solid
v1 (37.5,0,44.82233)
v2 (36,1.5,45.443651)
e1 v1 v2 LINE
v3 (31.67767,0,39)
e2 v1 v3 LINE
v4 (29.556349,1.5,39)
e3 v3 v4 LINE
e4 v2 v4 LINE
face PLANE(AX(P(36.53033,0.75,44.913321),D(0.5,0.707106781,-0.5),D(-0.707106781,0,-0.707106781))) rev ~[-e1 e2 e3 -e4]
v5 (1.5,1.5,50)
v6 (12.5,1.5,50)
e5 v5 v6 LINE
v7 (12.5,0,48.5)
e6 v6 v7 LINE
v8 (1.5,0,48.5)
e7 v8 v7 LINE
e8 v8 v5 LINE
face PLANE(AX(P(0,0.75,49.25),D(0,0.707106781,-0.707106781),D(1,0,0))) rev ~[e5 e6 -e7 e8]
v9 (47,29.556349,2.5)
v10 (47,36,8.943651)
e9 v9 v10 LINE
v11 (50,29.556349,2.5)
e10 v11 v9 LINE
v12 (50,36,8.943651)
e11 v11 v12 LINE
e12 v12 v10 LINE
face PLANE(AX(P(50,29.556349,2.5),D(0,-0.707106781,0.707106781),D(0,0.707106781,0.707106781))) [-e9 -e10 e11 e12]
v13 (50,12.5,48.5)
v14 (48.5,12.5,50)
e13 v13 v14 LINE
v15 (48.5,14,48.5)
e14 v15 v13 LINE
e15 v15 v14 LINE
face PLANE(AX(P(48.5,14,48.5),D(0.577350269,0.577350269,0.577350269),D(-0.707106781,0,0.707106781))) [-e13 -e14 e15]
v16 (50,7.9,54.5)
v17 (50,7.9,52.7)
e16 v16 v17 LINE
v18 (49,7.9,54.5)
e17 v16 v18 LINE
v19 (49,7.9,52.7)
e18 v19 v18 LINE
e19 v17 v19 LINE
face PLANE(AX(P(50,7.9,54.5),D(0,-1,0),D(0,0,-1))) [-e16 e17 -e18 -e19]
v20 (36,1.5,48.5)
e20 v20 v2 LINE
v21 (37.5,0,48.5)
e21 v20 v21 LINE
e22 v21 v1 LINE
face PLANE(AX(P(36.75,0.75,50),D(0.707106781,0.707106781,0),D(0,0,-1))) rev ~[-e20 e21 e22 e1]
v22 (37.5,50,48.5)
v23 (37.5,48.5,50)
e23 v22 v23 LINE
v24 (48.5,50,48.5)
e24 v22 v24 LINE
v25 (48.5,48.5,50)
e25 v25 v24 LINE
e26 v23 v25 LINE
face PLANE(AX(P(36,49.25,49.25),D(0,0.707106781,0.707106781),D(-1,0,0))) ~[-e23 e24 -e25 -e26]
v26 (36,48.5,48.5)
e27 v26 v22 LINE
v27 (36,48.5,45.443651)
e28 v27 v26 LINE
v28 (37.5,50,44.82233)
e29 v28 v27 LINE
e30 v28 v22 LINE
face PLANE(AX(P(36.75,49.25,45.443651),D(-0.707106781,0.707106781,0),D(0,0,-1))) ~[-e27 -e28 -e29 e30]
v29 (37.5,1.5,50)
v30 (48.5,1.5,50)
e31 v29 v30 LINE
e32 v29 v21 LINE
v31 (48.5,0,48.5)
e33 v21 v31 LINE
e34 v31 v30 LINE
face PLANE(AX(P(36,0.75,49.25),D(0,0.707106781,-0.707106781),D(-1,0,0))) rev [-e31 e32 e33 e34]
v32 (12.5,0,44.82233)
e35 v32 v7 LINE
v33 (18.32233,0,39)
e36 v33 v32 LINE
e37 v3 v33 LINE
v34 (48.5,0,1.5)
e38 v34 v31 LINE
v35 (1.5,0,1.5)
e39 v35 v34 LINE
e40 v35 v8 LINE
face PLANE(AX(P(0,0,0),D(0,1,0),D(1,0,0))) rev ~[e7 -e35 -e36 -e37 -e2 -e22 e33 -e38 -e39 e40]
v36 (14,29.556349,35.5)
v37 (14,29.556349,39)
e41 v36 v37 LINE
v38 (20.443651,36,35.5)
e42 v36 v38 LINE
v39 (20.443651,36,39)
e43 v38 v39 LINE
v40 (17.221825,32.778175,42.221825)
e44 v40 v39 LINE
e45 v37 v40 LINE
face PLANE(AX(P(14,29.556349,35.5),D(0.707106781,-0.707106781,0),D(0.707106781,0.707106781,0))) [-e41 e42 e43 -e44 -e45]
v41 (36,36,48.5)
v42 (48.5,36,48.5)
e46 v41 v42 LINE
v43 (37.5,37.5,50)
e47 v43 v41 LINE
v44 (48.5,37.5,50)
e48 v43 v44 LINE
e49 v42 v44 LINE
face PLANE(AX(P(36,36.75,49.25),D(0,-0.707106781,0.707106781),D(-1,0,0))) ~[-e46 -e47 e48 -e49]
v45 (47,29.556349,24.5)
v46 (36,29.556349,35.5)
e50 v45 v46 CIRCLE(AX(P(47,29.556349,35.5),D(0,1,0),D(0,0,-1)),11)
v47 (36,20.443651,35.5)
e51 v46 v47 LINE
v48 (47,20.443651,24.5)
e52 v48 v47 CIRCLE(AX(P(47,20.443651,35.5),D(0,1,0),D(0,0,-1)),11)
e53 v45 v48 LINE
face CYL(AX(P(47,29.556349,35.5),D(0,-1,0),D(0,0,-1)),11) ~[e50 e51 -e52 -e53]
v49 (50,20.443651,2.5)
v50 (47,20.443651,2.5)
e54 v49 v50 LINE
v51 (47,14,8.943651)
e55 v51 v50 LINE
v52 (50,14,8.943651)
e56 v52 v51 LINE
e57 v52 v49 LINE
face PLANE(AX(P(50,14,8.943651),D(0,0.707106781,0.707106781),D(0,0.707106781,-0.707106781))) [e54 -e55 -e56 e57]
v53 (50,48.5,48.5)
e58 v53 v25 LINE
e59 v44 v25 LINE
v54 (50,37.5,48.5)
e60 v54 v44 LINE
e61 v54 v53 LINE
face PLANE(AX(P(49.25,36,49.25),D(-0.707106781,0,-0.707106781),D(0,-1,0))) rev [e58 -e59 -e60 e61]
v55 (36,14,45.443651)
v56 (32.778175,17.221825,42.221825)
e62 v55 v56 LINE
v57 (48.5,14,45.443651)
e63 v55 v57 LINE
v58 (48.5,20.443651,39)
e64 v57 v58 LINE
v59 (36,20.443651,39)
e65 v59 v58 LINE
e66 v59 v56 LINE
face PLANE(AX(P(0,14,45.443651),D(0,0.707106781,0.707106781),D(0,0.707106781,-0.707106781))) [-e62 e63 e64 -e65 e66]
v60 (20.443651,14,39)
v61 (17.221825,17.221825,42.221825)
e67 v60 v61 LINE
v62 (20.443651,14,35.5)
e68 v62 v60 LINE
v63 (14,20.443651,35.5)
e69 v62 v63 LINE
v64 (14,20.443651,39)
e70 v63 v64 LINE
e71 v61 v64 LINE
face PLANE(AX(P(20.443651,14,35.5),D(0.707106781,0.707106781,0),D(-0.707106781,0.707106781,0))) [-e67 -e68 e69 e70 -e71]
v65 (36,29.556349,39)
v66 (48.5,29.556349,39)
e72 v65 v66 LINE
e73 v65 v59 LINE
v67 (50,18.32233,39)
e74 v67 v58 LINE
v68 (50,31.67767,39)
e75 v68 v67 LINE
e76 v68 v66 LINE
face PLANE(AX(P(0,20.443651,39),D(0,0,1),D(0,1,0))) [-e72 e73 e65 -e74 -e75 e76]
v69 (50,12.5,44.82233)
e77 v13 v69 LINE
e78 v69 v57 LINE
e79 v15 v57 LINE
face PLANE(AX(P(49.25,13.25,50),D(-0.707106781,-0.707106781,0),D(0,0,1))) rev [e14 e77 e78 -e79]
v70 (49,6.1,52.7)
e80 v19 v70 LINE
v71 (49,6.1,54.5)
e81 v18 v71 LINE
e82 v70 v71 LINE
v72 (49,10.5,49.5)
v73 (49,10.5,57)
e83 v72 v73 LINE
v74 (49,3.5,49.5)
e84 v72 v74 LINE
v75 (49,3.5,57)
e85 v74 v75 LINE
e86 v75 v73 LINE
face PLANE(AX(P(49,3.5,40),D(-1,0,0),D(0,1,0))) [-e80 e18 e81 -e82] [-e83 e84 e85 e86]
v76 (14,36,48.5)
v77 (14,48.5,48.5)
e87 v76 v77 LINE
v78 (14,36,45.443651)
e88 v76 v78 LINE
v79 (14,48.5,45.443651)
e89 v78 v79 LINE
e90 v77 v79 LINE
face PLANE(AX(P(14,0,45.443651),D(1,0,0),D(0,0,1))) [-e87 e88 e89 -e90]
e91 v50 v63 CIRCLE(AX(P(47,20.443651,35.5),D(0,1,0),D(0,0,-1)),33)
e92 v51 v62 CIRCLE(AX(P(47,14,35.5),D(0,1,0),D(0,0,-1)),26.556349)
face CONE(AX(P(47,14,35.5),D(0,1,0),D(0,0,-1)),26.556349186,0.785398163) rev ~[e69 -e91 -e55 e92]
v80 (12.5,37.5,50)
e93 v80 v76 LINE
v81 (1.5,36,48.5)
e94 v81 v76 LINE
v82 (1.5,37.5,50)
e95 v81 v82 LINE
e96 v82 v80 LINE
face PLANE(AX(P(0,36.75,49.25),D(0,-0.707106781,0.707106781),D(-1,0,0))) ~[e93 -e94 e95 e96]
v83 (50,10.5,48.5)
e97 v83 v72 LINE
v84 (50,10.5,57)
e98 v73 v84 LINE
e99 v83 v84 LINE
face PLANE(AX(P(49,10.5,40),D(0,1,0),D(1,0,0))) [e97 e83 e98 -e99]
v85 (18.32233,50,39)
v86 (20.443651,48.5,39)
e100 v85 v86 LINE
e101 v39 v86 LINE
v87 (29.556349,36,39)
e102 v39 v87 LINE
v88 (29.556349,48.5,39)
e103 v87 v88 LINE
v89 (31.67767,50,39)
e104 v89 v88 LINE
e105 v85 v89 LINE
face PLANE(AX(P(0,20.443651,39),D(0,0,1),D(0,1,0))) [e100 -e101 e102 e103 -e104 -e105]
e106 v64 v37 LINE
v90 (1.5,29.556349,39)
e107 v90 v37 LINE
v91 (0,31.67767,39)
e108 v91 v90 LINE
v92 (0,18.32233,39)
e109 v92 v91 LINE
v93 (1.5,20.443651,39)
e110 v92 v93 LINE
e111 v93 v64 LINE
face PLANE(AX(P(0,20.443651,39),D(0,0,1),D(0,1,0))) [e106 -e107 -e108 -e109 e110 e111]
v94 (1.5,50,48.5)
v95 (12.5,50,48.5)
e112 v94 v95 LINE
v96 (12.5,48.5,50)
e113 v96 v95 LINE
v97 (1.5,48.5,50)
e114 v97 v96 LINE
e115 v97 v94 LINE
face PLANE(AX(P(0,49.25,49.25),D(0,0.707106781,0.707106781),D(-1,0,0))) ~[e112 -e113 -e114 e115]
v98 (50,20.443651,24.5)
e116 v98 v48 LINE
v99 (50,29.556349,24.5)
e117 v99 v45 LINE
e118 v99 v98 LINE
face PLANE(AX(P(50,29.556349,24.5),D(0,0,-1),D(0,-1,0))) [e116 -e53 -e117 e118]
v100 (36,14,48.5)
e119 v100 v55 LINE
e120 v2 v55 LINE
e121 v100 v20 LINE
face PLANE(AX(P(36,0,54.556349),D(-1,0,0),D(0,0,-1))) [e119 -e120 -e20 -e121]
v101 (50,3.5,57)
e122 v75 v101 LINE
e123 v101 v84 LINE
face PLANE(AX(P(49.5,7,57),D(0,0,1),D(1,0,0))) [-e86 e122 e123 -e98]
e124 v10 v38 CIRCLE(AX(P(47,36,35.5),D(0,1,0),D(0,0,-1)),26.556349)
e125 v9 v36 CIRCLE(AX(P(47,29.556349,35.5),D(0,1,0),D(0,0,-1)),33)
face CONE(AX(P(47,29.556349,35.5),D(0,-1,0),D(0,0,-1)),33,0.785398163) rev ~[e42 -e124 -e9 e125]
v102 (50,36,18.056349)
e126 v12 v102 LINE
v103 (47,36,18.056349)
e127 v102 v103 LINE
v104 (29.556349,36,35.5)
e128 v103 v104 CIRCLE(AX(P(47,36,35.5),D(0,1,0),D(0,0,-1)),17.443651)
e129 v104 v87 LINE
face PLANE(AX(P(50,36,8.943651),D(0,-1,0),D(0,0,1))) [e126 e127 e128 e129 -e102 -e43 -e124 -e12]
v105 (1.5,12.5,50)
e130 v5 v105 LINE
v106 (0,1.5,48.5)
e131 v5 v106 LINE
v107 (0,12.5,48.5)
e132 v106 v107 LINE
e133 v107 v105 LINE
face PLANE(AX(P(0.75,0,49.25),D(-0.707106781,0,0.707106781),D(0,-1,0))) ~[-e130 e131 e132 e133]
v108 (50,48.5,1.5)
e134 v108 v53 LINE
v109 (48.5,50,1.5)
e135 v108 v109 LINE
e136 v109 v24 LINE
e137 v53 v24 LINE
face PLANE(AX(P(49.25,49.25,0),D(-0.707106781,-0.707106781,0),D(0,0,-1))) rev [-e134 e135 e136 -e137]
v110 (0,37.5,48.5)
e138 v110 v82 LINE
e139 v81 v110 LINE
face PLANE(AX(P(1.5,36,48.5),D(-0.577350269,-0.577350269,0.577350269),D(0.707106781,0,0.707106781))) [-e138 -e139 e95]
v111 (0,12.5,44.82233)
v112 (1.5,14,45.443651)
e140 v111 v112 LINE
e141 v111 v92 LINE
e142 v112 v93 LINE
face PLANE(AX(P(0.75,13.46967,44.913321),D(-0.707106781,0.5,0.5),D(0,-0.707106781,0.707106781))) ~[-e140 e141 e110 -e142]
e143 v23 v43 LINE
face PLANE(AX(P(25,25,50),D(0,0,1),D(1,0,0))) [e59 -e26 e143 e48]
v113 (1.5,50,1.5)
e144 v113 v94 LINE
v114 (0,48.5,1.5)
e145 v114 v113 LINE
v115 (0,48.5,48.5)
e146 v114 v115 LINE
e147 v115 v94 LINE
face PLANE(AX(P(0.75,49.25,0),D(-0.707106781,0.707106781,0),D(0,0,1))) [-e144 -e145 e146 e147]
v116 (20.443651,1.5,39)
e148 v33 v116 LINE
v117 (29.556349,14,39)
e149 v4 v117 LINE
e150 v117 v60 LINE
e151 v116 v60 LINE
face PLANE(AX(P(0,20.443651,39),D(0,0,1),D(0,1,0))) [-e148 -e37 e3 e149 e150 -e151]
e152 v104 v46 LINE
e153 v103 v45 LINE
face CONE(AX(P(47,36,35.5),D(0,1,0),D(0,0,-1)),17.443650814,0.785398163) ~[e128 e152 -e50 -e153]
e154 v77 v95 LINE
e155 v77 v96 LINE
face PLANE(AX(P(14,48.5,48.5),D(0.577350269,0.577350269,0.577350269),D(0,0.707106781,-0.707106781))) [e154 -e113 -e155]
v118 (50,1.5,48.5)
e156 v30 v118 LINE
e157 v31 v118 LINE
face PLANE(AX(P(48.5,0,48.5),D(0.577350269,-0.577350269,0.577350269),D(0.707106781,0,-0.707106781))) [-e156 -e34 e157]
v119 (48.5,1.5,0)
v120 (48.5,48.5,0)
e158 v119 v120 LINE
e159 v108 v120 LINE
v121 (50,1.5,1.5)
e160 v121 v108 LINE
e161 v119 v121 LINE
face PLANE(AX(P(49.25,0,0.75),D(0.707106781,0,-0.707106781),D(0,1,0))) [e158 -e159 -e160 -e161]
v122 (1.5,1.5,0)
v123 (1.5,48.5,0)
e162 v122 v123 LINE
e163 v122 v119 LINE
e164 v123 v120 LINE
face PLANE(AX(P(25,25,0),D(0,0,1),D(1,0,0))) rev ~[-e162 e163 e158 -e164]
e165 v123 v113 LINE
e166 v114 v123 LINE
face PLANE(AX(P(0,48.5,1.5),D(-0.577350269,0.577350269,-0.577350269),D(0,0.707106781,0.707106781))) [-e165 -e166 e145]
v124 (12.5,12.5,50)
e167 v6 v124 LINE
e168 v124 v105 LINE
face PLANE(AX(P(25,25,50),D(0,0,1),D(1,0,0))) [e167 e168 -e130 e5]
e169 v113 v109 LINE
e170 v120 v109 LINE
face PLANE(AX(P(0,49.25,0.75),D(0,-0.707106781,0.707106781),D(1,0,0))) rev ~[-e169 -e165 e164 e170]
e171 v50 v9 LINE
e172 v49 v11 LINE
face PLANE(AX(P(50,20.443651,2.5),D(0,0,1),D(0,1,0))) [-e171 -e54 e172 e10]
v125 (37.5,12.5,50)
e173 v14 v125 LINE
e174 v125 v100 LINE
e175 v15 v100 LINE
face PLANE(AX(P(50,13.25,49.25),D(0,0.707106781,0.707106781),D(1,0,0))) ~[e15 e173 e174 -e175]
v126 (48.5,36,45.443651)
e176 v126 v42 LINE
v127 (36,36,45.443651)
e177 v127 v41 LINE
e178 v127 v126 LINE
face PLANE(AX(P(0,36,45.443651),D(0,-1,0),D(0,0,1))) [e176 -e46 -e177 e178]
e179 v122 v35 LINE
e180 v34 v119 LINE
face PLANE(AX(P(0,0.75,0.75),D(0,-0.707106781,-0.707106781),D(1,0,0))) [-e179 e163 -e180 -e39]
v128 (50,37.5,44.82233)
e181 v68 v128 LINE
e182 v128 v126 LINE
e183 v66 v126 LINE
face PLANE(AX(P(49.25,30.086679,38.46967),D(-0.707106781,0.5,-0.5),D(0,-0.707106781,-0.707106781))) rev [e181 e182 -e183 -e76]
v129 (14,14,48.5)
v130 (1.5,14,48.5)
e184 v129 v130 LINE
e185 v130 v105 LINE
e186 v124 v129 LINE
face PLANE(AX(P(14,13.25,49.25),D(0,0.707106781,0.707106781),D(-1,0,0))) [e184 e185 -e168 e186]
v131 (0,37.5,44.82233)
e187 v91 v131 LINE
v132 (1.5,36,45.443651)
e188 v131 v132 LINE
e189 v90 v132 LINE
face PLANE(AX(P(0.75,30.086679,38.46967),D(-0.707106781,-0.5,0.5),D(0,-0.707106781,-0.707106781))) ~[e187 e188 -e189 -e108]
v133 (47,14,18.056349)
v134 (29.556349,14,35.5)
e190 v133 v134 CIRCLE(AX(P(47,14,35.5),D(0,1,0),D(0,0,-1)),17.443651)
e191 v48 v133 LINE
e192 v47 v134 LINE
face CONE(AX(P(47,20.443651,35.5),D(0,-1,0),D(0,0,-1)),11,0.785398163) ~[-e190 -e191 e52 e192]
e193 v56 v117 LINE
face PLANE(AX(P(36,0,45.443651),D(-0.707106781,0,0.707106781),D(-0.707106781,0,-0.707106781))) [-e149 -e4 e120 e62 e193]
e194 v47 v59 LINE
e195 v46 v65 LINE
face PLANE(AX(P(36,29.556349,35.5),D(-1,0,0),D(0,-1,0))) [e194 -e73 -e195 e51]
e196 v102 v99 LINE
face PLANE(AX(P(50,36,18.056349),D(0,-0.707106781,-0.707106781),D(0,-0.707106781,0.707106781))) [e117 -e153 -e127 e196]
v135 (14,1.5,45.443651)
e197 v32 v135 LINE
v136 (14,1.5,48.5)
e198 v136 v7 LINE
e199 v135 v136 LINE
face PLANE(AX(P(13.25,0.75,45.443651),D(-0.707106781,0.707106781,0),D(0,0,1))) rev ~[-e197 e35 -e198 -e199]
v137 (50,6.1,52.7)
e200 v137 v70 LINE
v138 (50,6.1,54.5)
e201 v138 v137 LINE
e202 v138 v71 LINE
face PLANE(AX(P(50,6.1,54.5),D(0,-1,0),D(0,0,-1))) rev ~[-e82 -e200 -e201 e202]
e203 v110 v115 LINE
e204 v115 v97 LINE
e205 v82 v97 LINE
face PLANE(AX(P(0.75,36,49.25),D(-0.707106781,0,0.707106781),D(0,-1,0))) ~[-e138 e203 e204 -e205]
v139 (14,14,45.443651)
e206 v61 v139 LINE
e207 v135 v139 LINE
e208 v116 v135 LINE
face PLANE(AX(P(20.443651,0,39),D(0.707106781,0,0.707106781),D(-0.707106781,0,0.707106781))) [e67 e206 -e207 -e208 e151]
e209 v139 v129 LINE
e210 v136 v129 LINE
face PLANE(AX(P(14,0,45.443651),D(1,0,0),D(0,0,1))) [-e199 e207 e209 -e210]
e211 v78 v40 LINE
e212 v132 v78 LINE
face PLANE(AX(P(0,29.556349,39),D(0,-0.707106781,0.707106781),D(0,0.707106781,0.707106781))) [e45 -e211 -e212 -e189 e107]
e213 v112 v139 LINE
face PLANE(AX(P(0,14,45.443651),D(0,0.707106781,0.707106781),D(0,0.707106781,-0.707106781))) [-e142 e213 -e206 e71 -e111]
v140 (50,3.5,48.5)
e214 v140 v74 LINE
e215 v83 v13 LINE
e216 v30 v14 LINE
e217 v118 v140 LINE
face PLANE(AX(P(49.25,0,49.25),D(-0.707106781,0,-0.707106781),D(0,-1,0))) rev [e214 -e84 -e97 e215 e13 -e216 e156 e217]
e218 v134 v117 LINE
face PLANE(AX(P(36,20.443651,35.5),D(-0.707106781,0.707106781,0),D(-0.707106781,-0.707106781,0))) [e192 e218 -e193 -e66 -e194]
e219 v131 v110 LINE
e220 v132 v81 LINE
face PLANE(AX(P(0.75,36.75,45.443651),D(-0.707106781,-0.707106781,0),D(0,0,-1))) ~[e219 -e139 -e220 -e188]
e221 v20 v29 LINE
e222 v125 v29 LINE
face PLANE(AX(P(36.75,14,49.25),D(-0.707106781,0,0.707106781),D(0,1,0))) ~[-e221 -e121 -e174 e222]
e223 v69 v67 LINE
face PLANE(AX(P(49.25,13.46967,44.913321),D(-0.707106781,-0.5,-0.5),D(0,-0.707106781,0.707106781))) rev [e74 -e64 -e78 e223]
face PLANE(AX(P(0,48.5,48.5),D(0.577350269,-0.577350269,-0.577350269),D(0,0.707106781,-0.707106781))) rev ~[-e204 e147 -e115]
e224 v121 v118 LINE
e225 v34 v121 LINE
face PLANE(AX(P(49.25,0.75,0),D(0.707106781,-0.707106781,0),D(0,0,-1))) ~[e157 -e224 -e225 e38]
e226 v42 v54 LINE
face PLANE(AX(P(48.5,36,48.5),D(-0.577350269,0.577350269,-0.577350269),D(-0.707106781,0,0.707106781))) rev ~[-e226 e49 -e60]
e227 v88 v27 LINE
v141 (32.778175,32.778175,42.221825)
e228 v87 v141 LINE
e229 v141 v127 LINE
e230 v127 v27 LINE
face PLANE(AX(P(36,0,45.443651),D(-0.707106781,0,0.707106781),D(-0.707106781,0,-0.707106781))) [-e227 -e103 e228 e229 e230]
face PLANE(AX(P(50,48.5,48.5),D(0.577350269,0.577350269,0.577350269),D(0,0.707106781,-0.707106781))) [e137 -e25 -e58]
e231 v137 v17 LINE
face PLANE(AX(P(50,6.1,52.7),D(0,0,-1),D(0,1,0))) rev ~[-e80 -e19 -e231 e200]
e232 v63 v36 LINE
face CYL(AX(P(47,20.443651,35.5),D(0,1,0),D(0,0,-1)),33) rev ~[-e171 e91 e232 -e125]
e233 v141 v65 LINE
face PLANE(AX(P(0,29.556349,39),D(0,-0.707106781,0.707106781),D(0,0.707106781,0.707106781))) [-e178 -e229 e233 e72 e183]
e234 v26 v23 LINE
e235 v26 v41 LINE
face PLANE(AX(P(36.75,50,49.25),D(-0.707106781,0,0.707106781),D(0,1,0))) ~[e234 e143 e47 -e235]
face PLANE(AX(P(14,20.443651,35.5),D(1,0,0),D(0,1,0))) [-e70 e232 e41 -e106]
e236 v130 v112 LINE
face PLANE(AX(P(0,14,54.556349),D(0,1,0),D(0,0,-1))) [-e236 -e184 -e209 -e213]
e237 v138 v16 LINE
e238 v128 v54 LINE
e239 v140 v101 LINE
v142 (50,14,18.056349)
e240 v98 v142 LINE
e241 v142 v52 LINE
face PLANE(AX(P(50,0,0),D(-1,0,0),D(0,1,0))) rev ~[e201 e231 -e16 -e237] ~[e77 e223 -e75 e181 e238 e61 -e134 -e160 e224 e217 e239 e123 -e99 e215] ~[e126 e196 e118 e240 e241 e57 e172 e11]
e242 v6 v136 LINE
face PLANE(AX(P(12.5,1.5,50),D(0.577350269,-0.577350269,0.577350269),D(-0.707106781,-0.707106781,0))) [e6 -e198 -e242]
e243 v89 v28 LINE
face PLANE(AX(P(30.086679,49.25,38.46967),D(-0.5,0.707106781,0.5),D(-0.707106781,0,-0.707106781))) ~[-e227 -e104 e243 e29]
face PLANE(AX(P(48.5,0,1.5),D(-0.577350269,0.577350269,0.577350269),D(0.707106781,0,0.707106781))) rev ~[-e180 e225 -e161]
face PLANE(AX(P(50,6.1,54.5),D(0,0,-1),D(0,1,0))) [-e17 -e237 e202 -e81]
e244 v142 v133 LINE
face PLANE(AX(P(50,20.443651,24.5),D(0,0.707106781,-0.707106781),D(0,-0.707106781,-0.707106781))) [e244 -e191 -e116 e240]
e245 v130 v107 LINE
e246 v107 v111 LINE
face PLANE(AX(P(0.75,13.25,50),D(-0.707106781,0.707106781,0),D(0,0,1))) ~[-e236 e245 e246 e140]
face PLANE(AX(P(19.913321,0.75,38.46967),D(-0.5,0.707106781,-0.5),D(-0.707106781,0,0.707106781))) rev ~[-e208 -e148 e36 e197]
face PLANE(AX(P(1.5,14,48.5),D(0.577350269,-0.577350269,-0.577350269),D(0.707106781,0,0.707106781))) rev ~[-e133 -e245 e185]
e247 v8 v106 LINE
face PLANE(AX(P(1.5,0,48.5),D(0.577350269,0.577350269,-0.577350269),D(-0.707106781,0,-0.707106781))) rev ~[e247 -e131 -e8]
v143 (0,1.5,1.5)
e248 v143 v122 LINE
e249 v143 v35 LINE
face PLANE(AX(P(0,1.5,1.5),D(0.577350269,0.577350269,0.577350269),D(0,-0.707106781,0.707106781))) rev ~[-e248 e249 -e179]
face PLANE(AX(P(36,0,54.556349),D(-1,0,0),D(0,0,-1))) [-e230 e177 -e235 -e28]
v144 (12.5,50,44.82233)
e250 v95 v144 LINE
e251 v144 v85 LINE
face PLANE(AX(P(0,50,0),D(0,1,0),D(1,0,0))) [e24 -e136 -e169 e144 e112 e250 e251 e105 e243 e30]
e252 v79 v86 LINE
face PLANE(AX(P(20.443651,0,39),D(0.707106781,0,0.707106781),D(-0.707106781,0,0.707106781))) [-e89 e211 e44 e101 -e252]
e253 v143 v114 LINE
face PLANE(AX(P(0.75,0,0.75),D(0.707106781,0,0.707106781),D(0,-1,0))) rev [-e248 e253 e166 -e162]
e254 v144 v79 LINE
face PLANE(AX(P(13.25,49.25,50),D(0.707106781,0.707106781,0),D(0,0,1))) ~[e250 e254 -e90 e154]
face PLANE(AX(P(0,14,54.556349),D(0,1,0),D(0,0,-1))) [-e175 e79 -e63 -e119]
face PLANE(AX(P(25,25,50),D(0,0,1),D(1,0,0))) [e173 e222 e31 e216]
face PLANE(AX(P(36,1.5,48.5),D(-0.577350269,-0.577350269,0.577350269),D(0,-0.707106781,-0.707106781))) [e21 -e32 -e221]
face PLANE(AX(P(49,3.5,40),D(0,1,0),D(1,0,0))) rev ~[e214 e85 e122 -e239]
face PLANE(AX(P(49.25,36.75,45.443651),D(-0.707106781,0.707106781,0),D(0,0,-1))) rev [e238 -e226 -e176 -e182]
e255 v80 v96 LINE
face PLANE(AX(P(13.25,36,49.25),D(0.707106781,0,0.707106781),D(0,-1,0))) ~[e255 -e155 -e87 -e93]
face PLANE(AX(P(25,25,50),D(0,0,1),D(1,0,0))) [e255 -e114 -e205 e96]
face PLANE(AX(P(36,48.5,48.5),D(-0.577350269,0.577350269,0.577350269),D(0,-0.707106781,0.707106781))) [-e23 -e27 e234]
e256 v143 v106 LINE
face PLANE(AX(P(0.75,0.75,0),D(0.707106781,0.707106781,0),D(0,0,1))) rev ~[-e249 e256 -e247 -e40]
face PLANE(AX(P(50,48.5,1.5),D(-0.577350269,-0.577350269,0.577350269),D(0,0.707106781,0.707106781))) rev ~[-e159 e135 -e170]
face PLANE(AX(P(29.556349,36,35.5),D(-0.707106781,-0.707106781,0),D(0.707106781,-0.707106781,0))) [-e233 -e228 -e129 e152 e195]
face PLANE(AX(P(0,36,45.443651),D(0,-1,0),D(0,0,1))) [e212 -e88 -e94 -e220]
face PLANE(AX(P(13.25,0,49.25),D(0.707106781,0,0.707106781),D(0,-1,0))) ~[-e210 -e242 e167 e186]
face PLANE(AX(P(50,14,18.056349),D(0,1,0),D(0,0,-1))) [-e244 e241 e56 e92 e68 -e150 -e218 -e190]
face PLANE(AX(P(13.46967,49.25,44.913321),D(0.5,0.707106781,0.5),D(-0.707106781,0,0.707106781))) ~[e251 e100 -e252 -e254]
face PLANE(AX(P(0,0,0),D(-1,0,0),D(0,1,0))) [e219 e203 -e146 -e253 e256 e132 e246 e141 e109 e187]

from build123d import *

# Parameters (mm, degrees)
SKETCH1_W                = 50
SKETCH1_H                = 50
BOSS_EXTRUDE1_DEPTH      = 50
CUT_EXTRUDE3_DEPTH       = 87.602540378
CUT_EXTRUDE4_DEPTH       = 87.602540378
CHAMFER1_SIZE            = 1.5
BOSS_EXTRUDE2_DEPTH      = 7
BOSS_EXTRUDE2_DEPTH_BACK = 10
SKETCH10_W               = 1
SKETCH10_H               = 7
SKETCH11_W               = 1.8
SKETCH11_H               = 1.8
CUT_EXTRUDE5_DEPTH       = 7


with BuildPart() as part:
    # Sketch1 → Boss-Extrude1 (new body)
    with BuildSketch(Plane.XY):
        with Locations((25, 25)):
            Rectangle(SKETCH1_W, SKETCH1_H)
    extrude(amount=BOSS_EXTRUDE1_DEPTH)

    # Sketch2 → Cut-Extrude3 (cut, through all)
    with BuildSketch(Plane.ZX):
        Polygon((61, 29.556349186), (54.556349186, 36), (45.443650814, 36), (39, 29.556349186), (39, 20.443650814), (45.443650814, 14), (54.556349186, 14), (61, 20.443650814), align=None)
    extrude(amount=CUT_EXTRUDE3_DEPTH, mode=Mode.SUBTRACT)

    # Sketch6 → Cut-Extrude4 (cut, through all)
    with BuildSketch(Plane(origin=(0, 0, 0), x_dir=(0, 0, -1), z_dir=(1, 0, 0))):
        Polygon((-61, 29.556349186), (-61, 20.443650814), (-54.556349186, 14), (-45.443650814, 14), (-39, 20.443650814), (-39, 29.556349186), (-45.443650814, 36), (-54.556349186, 36), align=None)
    extrude(amount=CUT_EXTRUDE4_DEPTH, mode=Mode.SUBTRACT)

    # Cut-Sweep5: sweep along a path in Sketch9
    with BuildLine(Plane(origin=(0, 25, 0), x_dir=(-1, 0, 0), z_dir=(0, -1, 0))) as cut_sweep5_path:
        Line((-50, -13.5), (-47, -13.5))
        ThreePointArc((-47, -13.5), (-31.443650814, -19.943650814), (-25, -35.5))
        Line((-25, -35.5), (-25, -50))
    # Sketch8 → Cut-Sweep5 (sweep, cut)
    with BuildSketch(Plane(origin=(50, 0, 0), x_dir=(0, 0, -1), z_dir=(1, 0, 0))):
        Polygon((-2.5, 29.556349186), (-8.943650814, 36), (-18.056349186, 36), (-24.5, 29.556349186), (-24.5, 20.443650814), (-18.056349186, 14), (-8.943650814, 14), (-2.5, 20.443650814), align=None)
    sweep(path=cut_sweep5_path.line, mode=Mode.SUBTRACT)

    # Chamfer1
    chamfer1_edges = [part.edges().sort_by_distance(p)[0] for p in [
        (50, 7, 50),
        (43, 50, 50),
        (43, 0, 50),
        (7, 50, 50),
        (14, 43, 50),
        (36, 7, 50),
        (36, 0, 47.721825407),
        (14, 0, 47.721825407),
        (14, 50, 47.721825407),
        (36, 50, 47.721825407),
        (32.778174593, 50, 42.221825407),
        (17.221825407, 50, 42.221825407),
        (32.778174593, 0, 42.221825407),
        (17.221825407, 0, 42.221825407),
        (0, 43, 50),
        (25, 50, 0),
        (50, 25, 0),
        (14, 7, 50),
        (36, 43, 50),
        (50, 43, 50),
        (25, 0, 0),
        (0, 7, 50),
        (0, 25, 0),
        (50, 36, 47.721825407),
        (50, 14, 47.721825407),
        (50, 17.221825407, 42.221825407),
        (50, 32.778174593, 42.221825407),
        (0, 14, 47.721825407),
        (0, 36, 47.721825407),
        (43, 14, 50),
        (7, 14, 50),
        (0, 17.221825407, 42.221825407),
        (0, 32.778174593, 42.221825407),
        (43, 36, 50),
        (7, 36, 50),
        (7, 0, 50),
        (0, 50, 25),
        (50, 50, 25),
        (50, 0, 25),
        (0, 0, 25),
    ]]
    chamfer(chamfer1_edges, length=CHAMFER1_SIZE)

    # Sketch10 → Boss-Extrude2 (add, two sides: drawn at the far end of the back side and taken through both)
    with BuildSketch(Plane.XY.offset(50).offset(-BOSS_EXTRUDE2_DEPTH_BACK)):
        with Locations((49.5, 7)):
            Rectangle(SKETCH10_W, SKETCH10_H)
    extrude(amount=BOSS_EXTRUDE2_DEPTH + BOSS_EXTRUDE2_DEPTH_BACK)

    # Sketch11 → Cut-Extrude5 (cut)
    with BuildSketch(Plane(origin=(50, 0, 0), x_dir=(0, 0, -1), z_dir=(1, 0, 0))):
        with Locations((-53.6, 7)):
            Rectangle(SKETCH11_W, SKETCH11_H)
    extrude(amount=-CUT_EXTRUDE5_DEPTH, mode=Mode.SUBTRACT)


solid = part.part
